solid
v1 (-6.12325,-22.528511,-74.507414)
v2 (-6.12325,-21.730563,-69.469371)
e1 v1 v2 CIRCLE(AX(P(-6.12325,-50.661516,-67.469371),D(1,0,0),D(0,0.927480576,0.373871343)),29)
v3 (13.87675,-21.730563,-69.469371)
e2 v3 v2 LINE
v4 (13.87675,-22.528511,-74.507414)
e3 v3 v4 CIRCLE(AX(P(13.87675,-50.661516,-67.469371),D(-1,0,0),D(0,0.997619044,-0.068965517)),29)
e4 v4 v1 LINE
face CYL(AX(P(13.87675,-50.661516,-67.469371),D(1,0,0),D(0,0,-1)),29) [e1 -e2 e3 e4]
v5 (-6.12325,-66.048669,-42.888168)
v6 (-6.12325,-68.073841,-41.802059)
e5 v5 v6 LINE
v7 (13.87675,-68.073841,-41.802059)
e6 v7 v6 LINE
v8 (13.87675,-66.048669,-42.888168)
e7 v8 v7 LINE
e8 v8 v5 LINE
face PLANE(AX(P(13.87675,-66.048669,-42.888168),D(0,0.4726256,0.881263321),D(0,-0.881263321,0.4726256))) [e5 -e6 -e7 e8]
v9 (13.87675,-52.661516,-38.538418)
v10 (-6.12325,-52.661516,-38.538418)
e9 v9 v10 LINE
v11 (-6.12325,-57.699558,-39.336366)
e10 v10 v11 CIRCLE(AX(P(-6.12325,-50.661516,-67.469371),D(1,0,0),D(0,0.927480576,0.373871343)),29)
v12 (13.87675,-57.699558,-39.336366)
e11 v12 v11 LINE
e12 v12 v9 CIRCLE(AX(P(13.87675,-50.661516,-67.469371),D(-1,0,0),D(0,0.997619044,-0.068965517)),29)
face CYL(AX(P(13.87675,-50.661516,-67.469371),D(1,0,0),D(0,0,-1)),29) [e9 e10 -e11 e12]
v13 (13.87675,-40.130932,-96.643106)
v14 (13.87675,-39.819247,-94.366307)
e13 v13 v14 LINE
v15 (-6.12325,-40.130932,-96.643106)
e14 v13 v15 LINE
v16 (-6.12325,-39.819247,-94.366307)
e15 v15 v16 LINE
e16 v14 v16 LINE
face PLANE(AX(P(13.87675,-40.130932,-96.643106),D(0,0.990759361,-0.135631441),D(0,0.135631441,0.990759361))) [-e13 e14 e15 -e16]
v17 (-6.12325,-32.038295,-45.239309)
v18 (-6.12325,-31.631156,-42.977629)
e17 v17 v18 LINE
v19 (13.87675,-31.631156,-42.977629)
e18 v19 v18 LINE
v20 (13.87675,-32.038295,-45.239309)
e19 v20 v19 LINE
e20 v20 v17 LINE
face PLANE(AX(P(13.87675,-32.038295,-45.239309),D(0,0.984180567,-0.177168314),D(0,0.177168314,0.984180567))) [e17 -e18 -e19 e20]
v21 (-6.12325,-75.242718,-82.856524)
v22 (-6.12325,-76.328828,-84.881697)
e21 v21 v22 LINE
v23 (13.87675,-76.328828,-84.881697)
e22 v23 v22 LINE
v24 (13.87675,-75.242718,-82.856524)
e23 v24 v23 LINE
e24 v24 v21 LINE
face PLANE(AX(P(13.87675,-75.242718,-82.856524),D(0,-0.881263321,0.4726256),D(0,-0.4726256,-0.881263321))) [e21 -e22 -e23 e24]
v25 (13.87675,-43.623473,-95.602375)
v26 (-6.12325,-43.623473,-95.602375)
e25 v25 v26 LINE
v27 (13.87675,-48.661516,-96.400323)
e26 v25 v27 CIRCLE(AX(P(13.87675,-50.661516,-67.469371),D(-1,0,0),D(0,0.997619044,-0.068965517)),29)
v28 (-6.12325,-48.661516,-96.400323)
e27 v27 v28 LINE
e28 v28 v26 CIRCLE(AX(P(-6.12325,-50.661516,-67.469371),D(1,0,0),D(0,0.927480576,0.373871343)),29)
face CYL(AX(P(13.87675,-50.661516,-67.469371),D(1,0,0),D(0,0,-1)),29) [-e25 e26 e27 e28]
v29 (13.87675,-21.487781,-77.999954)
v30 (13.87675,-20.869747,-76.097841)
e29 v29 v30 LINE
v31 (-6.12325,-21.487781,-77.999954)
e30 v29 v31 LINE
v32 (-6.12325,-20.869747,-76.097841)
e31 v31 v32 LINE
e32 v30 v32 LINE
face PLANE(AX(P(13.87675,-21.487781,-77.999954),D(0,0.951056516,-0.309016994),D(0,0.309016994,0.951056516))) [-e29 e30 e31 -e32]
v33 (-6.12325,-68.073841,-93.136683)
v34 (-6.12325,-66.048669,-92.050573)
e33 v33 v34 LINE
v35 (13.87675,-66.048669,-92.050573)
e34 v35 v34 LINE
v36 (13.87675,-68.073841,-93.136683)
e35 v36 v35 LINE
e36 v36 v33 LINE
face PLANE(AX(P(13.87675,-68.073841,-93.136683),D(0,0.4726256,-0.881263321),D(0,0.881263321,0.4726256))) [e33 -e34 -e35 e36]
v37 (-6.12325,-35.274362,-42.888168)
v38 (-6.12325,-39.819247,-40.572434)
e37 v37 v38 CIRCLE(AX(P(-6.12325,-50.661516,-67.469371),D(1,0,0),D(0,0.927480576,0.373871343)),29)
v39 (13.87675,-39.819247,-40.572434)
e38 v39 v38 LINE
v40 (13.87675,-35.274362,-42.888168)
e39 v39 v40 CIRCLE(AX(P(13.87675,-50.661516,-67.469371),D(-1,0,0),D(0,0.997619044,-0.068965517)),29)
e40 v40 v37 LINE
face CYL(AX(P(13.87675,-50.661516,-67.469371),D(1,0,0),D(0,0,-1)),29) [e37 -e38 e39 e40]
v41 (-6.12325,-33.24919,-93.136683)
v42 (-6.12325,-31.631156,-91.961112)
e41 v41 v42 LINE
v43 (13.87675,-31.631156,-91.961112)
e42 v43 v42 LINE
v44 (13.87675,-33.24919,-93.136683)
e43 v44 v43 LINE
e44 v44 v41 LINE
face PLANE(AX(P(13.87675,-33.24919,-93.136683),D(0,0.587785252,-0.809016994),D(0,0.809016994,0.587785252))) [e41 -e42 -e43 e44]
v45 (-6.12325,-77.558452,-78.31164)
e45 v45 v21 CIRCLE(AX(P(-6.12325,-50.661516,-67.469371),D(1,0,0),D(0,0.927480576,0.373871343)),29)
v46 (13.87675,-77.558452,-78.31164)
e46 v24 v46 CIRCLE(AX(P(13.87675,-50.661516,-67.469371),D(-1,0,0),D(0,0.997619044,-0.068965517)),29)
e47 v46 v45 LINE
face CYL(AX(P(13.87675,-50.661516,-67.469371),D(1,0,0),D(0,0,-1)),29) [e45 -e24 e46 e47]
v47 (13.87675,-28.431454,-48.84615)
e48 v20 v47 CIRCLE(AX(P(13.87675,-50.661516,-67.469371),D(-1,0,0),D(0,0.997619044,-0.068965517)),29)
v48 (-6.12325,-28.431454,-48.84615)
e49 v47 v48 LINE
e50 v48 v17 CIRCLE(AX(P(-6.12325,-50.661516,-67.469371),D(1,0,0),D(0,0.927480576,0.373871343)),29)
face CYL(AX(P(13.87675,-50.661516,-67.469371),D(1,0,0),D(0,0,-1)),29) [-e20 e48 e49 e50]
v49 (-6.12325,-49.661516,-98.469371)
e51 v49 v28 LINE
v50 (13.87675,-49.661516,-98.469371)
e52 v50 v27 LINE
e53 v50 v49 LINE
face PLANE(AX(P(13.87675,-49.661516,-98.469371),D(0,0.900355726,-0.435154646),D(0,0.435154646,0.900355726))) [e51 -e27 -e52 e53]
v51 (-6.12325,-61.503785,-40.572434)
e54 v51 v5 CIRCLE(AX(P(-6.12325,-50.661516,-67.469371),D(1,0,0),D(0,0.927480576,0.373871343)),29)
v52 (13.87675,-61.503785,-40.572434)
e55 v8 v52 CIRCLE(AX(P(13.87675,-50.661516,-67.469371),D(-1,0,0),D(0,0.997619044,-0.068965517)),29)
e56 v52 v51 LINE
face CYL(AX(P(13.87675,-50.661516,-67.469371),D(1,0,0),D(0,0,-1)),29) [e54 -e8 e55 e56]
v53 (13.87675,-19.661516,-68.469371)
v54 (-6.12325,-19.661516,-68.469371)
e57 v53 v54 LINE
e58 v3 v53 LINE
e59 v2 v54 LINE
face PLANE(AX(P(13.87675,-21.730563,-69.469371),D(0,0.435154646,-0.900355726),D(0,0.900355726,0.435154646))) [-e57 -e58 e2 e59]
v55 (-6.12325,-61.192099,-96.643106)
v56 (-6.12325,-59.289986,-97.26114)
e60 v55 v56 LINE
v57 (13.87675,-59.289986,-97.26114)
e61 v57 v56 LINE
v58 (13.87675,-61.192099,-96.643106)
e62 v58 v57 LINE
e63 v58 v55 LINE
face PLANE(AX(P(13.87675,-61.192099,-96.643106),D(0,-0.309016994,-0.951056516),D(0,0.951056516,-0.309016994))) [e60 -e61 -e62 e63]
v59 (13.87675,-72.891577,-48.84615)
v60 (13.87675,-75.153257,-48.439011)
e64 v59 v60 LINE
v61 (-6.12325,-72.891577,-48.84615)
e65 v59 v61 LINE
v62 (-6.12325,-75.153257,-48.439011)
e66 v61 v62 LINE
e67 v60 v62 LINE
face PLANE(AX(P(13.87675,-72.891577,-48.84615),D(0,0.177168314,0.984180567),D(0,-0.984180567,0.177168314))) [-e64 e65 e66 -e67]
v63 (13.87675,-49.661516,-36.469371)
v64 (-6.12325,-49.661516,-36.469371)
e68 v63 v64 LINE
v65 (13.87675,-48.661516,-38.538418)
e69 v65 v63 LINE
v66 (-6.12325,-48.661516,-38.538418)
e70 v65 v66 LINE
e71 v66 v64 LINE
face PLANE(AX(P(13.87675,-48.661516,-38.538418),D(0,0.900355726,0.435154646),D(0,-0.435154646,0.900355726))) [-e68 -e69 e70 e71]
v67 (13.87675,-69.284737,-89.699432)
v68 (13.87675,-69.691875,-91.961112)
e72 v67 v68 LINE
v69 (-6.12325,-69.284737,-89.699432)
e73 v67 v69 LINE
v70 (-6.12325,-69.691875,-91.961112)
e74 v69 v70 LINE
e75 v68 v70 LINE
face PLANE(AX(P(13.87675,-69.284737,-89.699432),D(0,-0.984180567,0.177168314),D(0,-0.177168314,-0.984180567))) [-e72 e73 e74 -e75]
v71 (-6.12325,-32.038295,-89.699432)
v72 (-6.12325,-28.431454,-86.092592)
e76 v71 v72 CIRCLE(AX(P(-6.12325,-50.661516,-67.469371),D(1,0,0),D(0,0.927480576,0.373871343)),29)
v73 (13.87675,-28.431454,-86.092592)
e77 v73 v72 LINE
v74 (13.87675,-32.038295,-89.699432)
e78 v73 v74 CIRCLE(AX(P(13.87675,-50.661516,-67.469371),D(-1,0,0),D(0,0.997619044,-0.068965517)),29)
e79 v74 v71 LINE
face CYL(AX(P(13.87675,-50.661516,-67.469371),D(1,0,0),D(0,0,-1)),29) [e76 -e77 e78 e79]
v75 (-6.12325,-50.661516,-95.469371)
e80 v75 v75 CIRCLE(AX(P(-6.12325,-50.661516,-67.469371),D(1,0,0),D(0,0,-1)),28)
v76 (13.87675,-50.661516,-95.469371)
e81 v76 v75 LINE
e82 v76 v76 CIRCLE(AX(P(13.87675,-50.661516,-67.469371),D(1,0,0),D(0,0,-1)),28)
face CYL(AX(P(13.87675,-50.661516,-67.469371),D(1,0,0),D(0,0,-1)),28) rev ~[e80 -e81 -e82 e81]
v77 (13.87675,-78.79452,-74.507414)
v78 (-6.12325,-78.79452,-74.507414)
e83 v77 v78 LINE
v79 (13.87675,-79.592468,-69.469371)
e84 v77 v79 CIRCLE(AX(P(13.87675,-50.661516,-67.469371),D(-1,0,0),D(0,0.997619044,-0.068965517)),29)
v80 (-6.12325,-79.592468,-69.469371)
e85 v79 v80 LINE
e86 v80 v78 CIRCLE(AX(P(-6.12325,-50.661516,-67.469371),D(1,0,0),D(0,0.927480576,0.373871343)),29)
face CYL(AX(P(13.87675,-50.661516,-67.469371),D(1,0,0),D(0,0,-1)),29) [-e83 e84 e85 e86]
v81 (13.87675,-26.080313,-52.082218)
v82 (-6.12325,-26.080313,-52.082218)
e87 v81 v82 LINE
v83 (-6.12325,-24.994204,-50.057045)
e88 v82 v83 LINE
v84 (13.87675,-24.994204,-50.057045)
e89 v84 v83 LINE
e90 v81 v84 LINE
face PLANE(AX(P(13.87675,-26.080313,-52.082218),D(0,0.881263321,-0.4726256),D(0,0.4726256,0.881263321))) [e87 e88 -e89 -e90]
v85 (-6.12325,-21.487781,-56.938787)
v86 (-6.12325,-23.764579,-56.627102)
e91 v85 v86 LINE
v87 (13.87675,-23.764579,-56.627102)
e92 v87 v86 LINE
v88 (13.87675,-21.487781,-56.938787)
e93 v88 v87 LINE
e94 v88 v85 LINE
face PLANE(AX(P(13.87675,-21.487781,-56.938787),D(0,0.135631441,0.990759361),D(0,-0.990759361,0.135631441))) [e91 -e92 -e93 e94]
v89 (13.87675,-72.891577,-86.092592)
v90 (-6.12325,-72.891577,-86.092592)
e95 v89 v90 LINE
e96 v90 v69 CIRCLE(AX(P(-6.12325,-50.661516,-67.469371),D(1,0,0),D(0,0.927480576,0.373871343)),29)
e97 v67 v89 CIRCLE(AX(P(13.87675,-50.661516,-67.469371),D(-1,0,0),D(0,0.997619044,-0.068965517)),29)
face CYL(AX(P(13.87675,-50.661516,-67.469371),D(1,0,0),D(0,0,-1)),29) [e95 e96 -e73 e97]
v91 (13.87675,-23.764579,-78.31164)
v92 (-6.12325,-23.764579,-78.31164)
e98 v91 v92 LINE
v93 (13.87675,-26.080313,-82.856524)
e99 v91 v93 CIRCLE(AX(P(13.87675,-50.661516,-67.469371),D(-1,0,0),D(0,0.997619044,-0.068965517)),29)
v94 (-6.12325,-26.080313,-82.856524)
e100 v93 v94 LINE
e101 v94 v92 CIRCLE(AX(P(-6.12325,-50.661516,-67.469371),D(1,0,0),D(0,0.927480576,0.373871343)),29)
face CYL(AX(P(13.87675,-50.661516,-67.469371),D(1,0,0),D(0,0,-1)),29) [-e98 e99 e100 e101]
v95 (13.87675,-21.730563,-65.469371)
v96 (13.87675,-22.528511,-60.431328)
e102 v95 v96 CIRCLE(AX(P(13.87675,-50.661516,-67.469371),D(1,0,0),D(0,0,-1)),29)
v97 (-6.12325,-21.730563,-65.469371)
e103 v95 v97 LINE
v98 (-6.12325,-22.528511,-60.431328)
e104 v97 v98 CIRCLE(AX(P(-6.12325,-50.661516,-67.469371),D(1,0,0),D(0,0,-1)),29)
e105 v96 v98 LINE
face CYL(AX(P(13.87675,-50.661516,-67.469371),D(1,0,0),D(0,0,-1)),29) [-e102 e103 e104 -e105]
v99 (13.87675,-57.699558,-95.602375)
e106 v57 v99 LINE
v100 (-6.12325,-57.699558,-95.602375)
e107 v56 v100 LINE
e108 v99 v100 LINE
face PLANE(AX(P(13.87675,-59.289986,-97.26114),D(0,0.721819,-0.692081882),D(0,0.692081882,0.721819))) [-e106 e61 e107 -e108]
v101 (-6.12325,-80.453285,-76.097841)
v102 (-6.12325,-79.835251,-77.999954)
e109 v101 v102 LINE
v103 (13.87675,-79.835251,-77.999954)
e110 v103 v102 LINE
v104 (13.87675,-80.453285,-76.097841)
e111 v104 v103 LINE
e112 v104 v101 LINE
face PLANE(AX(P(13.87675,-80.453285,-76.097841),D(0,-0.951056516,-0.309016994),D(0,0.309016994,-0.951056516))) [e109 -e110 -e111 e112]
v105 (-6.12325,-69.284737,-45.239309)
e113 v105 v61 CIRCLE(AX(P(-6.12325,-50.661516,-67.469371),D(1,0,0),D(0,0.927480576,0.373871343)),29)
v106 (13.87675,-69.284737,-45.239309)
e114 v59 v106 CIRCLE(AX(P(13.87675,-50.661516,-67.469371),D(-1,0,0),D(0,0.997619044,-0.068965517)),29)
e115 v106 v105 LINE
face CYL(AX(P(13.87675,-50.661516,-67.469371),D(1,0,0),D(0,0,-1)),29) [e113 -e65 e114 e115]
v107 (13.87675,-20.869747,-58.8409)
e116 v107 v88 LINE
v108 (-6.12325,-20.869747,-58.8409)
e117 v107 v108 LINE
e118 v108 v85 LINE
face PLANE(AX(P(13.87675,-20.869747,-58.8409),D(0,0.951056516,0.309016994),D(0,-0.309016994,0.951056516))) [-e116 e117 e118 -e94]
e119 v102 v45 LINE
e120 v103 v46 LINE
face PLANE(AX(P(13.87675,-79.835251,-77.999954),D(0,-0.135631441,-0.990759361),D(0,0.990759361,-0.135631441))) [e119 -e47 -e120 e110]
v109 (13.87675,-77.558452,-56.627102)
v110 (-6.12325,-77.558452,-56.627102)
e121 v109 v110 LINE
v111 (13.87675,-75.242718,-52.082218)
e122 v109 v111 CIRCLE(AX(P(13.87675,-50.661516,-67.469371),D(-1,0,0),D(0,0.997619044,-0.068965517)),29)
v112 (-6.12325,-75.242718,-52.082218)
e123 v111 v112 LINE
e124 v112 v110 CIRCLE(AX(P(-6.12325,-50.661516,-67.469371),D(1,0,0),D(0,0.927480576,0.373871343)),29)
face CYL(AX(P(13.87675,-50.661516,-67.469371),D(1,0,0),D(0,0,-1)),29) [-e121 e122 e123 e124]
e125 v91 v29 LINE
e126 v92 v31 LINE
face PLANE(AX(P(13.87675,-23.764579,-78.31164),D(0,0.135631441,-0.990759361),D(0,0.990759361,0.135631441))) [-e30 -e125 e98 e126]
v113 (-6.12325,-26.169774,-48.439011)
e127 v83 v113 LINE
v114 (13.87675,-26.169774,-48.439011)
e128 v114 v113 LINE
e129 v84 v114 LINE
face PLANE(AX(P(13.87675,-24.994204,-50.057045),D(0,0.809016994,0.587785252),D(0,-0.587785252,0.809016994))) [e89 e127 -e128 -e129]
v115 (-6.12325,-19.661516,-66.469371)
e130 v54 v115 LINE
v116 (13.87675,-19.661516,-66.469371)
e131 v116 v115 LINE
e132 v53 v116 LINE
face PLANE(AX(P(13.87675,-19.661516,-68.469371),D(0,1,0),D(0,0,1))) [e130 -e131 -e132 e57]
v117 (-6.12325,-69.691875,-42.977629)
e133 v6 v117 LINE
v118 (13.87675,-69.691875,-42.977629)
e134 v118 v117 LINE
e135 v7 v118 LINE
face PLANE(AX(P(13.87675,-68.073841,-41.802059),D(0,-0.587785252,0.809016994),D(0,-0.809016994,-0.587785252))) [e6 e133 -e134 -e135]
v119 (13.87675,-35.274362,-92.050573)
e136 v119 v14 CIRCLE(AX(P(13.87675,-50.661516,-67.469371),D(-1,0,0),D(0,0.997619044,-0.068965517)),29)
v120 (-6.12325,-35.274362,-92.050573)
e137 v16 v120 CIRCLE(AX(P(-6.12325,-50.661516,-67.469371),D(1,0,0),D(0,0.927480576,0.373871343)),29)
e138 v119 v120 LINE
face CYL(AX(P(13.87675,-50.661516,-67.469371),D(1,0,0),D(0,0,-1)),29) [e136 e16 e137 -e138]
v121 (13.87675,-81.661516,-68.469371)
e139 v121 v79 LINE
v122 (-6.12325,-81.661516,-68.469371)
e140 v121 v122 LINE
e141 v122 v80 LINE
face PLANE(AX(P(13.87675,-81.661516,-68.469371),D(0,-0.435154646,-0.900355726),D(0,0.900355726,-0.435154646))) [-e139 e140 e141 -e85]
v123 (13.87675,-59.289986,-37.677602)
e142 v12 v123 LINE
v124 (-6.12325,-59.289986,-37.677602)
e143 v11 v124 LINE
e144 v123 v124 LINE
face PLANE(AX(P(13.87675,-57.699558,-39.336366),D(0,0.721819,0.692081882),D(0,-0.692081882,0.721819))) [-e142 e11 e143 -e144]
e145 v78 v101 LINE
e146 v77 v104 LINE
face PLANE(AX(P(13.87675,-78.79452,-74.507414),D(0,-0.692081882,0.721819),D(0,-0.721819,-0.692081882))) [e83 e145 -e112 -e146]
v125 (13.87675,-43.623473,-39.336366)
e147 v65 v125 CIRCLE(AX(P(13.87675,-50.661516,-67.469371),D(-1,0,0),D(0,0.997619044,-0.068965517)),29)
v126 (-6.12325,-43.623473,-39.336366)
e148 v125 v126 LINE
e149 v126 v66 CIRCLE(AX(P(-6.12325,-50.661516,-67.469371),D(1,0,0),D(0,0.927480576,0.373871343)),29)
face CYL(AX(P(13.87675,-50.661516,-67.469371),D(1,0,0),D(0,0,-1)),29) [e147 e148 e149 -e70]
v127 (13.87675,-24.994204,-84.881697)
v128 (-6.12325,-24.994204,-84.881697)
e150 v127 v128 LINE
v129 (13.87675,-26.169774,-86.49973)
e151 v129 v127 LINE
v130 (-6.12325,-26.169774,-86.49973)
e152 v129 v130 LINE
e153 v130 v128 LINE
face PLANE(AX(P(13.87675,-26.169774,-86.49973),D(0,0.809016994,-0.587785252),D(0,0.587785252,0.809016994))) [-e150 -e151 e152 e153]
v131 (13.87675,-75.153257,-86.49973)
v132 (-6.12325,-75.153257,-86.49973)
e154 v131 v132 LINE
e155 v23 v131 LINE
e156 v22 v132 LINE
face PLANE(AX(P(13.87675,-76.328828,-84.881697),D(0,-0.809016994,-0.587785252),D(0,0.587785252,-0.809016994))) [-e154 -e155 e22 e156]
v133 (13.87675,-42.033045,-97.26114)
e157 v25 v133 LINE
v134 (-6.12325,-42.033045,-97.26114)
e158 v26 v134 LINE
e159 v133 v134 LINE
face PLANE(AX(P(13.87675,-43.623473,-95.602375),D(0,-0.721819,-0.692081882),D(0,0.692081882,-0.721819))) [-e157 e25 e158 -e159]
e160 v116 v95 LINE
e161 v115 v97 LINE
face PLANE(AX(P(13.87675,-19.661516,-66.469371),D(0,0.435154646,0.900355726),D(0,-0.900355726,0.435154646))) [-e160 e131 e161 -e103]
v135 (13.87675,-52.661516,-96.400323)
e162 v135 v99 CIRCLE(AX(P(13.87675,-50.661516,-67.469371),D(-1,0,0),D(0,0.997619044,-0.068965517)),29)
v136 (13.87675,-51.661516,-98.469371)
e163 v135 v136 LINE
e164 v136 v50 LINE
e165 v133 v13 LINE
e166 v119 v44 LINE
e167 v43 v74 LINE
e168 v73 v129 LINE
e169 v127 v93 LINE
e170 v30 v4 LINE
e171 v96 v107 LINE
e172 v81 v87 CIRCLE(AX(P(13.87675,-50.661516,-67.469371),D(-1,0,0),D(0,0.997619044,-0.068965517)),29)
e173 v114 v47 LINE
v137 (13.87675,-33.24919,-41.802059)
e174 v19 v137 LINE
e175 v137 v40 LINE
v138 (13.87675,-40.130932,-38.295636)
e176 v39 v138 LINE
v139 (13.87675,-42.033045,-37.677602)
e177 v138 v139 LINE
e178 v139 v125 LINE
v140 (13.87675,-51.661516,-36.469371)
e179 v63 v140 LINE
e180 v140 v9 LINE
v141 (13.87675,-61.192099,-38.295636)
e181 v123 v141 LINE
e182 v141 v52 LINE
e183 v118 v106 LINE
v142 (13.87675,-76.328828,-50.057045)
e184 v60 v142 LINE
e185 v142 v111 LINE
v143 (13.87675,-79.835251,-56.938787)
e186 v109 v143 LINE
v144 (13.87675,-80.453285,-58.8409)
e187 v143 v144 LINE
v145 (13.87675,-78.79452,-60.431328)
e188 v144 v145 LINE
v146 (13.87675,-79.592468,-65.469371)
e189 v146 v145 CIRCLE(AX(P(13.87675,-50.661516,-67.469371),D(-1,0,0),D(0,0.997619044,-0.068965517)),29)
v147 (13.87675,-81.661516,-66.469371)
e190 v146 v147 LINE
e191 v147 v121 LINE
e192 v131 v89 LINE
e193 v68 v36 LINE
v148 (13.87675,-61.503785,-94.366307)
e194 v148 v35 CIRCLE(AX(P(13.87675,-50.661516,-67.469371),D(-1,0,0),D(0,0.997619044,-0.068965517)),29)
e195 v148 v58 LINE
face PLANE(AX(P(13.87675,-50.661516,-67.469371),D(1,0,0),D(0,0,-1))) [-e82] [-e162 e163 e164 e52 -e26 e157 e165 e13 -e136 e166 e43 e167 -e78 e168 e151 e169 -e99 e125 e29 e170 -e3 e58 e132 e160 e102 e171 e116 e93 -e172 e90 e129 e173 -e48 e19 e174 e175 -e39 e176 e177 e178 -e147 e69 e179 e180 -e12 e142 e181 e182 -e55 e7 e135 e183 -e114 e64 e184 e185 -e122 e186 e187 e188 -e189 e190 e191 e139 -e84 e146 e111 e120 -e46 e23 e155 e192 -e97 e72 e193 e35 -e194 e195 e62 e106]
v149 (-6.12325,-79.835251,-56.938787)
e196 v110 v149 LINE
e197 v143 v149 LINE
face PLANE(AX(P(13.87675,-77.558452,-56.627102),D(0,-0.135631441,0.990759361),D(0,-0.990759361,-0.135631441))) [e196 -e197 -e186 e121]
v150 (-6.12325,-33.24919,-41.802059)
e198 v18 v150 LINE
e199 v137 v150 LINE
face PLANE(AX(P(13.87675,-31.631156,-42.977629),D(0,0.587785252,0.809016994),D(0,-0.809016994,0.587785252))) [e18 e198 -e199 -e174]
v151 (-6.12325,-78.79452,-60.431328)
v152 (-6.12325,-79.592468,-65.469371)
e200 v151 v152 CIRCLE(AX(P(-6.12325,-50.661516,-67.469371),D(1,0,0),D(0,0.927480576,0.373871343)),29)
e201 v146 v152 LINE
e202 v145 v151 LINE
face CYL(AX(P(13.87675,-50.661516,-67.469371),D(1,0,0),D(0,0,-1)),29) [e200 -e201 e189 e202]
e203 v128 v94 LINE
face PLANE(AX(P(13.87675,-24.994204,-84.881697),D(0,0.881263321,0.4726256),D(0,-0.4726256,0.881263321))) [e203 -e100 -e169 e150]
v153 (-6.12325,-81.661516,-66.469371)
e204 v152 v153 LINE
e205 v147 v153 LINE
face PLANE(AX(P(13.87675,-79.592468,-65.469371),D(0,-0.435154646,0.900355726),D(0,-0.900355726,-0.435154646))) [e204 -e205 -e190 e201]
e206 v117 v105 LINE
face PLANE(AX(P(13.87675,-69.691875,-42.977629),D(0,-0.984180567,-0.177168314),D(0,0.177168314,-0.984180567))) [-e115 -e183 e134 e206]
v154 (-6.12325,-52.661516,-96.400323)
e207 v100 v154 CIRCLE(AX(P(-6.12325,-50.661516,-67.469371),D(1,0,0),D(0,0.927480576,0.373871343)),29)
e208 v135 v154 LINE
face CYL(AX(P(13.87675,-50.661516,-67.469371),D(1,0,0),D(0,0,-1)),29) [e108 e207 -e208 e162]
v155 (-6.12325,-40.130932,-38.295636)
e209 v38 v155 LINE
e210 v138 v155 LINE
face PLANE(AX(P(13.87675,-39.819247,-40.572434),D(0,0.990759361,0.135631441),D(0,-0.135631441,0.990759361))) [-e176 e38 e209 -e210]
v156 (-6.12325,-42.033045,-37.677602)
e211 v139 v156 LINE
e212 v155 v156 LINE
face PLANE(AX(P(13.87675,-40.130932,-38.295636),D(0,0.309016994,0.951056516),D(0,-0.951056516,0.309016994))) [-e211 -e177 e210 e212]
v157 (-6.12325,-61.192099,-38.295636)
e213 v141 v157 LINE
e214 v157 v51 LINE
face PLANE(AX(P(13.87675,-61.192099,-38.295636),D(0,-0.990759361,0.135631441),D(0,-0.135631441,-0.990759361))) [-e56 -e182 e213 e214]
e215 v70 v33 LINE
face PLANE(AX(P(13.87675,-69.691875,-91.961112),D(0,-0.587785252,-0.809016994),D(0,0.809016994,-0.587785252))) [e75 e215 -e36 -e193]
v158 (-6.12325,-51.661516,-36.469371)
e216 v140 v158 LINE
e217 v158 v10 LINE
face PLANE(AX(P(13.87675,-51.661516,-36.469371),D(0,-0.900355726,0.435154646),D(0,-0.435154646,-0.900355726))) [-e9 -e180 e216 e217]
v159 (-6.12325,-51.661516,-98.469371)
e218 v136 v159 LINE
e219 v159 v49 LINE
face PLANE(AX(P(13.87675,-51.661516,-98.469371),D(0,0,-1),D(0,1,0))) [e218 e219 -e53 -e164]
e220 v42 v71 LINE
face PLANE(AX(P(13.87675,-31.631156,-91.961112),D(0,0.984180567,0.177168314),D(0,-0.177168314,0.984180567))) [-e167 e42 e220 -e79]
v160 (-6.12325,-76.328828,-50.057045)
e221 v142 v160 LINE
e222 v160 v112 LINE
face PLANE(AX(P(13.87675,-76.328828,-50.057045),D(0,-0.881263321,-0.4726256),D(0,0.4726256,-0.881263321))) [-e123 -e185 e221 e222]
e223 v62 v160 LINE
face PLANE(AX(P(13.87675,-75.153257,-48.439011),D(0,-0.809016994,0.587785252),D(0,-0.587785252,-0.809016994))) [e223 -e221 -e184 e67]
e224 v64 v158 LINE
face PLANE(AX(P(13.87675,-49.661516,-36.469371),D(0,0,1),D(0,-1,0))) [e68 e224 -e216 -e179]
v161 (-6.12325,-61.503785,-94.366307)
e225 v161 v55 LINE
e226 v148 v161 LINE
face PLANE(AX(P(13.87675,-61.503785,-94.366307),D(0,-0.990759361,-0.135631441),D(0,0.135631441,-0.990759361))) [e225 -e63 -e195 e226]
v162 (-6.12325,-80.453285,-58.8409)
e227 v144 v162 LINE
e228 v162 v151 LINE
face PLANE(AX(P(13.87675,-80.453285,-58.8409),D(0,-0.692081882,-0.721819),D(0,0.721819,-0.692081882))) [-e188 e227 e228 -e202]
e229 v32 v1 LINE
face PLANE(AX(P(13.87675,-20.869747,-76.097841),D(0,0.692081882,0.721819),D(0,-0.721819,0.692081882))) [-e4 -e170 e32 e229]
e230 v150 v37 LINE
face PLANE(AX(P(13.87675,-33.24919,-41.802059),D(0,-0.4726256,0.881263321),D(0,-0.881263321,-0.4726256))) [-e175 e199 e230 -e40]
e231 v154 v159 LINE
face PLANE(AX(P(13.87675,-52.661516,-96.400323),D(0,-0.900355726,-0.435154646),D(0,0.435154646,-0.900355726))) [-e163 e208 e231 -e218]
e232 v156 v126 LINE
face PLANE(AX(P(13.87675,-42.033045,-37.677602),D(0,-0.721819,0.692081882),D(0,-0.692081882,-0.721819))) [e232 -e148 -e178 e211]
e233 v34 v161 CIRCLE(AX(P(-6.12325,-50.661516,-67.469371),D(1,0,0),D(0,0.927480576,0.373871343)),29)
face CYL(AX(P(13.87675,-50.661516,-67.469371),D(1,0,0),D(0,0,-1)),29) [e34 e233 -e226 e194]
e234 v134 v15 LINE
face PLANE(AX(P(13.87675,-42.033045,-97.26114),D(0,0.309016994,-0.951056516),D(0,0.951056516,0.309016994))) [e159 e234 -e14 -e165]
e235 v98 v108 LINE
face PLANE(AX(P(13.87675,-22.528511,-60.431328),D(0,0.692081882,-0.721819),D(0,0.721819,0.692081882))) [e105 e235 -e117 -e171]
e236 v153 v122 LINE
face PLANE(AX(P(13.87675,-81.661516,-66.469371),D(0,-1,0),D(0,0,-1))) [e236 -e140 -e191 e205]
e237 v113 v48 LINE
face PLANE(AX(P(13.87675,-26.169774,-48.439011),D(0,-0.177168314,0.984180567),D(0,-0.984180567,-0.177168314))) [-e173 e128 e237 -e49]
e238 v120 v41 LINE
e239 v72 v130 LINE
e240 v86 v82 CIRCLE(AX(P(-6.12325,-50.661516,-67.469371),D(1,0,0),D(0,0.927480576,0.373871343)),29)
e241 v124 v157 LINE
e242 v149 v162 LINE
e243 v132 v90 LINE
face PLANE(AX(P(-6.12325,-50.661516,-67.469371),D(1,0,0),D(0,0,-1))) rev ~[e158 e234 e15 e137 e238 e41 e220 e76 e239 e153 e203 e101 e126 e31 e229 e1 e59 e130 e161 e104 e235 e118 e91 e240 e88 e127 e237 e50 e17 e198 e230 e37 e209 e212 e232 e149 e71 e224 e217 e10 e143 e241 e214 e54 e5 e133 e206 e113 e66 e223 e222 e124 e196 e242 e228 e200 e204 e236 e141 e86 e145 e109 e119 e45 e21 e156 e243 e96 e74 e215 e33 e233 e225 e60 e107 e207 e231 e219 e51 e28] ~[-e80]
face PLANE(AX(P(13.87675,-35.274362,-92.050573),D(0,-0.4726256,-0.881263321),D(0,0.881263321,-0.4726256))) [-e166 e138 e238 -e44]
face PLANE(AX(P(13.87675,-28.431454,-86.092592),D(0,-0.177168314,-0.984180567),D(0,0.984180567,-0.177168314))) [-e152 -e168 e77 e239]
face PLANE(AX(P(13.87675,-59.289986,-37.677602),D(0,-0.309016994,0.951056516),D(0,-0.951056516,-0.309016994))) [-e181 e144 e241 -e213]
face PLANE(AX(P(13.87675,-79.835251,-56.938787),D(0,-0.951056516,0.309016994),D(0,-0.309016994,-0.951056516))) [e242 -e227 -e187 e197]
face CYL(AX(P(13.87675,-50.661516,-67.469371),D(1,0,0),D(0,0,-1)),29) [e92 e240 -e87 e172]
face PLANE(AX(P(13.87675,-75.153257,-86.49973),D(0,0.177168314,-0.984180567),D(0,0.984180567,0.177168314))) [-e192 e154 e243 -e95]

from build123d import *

# Parameters (mm, degrees)
SKETCH1_R           = 29
SKETCH1_R_2         = 28
BOSS_EXTRUDE1_DEPTH = 20
BOSS_EXTRUDE2_DEPTH = 20
CIRPATTERN1_COUNT   = 20


with BuildPart() as part:
    # Sketch1 → Boss-Extrude1 (new body)
    with BuildSketch(Plane(origin=(13.876749841, 0, 0), x_dir=(0, 0, -1), z_dir=(1, 0, 0))):
        with Locations((67.469370674, -50.661515593)):
            Circle(SKETCH1_R)
        with Locations((67.469370674, -50.661515593)):
            Circle(SKETCH1_R_2, mode=Mode.SUBTRACT)
    extrude(amount=-BOSS_EXTRUDE1_DEPTH)

    # Sketch2 → Boss-Extrude2 (add, through all)
    with BuildSketch(Plane(origin=(13.876749841, 0, 0), x_dir=(0, 0, -1), z_dir=(1, 0, 0))):
        with BuildLine():
            Line((66.469370674, -19.661515593), (65.469370674, -21.73056331))
            ThreePointArc((65.469370674, -21.73056331), (67.469370674, -21.661515593), (69.469370674, -21.73056331))
            Line((69.469370674, -21.73056331), (68.469370674, -19.661515593))
            Line((68.469370674, -19.661515593), (66.469370674, -19.661515593))
        make_face()
    boss_extrude2 = extrude(amount=-BOSS_EXTRUDE2_DEPTH)

    # CirPattern1: Boss-Extrude2 ×20 about axis
    cirpattern1_axis = Axis((0, -50.661515593, -67.469370674), (1, 0, 0))
    for i in range(1, CIRPATTERN1_COUNT):
        add(boss_extrude2.rotate(cirpattern1_axis, i * 360 / CIRPATTERN1_COUNT))


solid = part.part
